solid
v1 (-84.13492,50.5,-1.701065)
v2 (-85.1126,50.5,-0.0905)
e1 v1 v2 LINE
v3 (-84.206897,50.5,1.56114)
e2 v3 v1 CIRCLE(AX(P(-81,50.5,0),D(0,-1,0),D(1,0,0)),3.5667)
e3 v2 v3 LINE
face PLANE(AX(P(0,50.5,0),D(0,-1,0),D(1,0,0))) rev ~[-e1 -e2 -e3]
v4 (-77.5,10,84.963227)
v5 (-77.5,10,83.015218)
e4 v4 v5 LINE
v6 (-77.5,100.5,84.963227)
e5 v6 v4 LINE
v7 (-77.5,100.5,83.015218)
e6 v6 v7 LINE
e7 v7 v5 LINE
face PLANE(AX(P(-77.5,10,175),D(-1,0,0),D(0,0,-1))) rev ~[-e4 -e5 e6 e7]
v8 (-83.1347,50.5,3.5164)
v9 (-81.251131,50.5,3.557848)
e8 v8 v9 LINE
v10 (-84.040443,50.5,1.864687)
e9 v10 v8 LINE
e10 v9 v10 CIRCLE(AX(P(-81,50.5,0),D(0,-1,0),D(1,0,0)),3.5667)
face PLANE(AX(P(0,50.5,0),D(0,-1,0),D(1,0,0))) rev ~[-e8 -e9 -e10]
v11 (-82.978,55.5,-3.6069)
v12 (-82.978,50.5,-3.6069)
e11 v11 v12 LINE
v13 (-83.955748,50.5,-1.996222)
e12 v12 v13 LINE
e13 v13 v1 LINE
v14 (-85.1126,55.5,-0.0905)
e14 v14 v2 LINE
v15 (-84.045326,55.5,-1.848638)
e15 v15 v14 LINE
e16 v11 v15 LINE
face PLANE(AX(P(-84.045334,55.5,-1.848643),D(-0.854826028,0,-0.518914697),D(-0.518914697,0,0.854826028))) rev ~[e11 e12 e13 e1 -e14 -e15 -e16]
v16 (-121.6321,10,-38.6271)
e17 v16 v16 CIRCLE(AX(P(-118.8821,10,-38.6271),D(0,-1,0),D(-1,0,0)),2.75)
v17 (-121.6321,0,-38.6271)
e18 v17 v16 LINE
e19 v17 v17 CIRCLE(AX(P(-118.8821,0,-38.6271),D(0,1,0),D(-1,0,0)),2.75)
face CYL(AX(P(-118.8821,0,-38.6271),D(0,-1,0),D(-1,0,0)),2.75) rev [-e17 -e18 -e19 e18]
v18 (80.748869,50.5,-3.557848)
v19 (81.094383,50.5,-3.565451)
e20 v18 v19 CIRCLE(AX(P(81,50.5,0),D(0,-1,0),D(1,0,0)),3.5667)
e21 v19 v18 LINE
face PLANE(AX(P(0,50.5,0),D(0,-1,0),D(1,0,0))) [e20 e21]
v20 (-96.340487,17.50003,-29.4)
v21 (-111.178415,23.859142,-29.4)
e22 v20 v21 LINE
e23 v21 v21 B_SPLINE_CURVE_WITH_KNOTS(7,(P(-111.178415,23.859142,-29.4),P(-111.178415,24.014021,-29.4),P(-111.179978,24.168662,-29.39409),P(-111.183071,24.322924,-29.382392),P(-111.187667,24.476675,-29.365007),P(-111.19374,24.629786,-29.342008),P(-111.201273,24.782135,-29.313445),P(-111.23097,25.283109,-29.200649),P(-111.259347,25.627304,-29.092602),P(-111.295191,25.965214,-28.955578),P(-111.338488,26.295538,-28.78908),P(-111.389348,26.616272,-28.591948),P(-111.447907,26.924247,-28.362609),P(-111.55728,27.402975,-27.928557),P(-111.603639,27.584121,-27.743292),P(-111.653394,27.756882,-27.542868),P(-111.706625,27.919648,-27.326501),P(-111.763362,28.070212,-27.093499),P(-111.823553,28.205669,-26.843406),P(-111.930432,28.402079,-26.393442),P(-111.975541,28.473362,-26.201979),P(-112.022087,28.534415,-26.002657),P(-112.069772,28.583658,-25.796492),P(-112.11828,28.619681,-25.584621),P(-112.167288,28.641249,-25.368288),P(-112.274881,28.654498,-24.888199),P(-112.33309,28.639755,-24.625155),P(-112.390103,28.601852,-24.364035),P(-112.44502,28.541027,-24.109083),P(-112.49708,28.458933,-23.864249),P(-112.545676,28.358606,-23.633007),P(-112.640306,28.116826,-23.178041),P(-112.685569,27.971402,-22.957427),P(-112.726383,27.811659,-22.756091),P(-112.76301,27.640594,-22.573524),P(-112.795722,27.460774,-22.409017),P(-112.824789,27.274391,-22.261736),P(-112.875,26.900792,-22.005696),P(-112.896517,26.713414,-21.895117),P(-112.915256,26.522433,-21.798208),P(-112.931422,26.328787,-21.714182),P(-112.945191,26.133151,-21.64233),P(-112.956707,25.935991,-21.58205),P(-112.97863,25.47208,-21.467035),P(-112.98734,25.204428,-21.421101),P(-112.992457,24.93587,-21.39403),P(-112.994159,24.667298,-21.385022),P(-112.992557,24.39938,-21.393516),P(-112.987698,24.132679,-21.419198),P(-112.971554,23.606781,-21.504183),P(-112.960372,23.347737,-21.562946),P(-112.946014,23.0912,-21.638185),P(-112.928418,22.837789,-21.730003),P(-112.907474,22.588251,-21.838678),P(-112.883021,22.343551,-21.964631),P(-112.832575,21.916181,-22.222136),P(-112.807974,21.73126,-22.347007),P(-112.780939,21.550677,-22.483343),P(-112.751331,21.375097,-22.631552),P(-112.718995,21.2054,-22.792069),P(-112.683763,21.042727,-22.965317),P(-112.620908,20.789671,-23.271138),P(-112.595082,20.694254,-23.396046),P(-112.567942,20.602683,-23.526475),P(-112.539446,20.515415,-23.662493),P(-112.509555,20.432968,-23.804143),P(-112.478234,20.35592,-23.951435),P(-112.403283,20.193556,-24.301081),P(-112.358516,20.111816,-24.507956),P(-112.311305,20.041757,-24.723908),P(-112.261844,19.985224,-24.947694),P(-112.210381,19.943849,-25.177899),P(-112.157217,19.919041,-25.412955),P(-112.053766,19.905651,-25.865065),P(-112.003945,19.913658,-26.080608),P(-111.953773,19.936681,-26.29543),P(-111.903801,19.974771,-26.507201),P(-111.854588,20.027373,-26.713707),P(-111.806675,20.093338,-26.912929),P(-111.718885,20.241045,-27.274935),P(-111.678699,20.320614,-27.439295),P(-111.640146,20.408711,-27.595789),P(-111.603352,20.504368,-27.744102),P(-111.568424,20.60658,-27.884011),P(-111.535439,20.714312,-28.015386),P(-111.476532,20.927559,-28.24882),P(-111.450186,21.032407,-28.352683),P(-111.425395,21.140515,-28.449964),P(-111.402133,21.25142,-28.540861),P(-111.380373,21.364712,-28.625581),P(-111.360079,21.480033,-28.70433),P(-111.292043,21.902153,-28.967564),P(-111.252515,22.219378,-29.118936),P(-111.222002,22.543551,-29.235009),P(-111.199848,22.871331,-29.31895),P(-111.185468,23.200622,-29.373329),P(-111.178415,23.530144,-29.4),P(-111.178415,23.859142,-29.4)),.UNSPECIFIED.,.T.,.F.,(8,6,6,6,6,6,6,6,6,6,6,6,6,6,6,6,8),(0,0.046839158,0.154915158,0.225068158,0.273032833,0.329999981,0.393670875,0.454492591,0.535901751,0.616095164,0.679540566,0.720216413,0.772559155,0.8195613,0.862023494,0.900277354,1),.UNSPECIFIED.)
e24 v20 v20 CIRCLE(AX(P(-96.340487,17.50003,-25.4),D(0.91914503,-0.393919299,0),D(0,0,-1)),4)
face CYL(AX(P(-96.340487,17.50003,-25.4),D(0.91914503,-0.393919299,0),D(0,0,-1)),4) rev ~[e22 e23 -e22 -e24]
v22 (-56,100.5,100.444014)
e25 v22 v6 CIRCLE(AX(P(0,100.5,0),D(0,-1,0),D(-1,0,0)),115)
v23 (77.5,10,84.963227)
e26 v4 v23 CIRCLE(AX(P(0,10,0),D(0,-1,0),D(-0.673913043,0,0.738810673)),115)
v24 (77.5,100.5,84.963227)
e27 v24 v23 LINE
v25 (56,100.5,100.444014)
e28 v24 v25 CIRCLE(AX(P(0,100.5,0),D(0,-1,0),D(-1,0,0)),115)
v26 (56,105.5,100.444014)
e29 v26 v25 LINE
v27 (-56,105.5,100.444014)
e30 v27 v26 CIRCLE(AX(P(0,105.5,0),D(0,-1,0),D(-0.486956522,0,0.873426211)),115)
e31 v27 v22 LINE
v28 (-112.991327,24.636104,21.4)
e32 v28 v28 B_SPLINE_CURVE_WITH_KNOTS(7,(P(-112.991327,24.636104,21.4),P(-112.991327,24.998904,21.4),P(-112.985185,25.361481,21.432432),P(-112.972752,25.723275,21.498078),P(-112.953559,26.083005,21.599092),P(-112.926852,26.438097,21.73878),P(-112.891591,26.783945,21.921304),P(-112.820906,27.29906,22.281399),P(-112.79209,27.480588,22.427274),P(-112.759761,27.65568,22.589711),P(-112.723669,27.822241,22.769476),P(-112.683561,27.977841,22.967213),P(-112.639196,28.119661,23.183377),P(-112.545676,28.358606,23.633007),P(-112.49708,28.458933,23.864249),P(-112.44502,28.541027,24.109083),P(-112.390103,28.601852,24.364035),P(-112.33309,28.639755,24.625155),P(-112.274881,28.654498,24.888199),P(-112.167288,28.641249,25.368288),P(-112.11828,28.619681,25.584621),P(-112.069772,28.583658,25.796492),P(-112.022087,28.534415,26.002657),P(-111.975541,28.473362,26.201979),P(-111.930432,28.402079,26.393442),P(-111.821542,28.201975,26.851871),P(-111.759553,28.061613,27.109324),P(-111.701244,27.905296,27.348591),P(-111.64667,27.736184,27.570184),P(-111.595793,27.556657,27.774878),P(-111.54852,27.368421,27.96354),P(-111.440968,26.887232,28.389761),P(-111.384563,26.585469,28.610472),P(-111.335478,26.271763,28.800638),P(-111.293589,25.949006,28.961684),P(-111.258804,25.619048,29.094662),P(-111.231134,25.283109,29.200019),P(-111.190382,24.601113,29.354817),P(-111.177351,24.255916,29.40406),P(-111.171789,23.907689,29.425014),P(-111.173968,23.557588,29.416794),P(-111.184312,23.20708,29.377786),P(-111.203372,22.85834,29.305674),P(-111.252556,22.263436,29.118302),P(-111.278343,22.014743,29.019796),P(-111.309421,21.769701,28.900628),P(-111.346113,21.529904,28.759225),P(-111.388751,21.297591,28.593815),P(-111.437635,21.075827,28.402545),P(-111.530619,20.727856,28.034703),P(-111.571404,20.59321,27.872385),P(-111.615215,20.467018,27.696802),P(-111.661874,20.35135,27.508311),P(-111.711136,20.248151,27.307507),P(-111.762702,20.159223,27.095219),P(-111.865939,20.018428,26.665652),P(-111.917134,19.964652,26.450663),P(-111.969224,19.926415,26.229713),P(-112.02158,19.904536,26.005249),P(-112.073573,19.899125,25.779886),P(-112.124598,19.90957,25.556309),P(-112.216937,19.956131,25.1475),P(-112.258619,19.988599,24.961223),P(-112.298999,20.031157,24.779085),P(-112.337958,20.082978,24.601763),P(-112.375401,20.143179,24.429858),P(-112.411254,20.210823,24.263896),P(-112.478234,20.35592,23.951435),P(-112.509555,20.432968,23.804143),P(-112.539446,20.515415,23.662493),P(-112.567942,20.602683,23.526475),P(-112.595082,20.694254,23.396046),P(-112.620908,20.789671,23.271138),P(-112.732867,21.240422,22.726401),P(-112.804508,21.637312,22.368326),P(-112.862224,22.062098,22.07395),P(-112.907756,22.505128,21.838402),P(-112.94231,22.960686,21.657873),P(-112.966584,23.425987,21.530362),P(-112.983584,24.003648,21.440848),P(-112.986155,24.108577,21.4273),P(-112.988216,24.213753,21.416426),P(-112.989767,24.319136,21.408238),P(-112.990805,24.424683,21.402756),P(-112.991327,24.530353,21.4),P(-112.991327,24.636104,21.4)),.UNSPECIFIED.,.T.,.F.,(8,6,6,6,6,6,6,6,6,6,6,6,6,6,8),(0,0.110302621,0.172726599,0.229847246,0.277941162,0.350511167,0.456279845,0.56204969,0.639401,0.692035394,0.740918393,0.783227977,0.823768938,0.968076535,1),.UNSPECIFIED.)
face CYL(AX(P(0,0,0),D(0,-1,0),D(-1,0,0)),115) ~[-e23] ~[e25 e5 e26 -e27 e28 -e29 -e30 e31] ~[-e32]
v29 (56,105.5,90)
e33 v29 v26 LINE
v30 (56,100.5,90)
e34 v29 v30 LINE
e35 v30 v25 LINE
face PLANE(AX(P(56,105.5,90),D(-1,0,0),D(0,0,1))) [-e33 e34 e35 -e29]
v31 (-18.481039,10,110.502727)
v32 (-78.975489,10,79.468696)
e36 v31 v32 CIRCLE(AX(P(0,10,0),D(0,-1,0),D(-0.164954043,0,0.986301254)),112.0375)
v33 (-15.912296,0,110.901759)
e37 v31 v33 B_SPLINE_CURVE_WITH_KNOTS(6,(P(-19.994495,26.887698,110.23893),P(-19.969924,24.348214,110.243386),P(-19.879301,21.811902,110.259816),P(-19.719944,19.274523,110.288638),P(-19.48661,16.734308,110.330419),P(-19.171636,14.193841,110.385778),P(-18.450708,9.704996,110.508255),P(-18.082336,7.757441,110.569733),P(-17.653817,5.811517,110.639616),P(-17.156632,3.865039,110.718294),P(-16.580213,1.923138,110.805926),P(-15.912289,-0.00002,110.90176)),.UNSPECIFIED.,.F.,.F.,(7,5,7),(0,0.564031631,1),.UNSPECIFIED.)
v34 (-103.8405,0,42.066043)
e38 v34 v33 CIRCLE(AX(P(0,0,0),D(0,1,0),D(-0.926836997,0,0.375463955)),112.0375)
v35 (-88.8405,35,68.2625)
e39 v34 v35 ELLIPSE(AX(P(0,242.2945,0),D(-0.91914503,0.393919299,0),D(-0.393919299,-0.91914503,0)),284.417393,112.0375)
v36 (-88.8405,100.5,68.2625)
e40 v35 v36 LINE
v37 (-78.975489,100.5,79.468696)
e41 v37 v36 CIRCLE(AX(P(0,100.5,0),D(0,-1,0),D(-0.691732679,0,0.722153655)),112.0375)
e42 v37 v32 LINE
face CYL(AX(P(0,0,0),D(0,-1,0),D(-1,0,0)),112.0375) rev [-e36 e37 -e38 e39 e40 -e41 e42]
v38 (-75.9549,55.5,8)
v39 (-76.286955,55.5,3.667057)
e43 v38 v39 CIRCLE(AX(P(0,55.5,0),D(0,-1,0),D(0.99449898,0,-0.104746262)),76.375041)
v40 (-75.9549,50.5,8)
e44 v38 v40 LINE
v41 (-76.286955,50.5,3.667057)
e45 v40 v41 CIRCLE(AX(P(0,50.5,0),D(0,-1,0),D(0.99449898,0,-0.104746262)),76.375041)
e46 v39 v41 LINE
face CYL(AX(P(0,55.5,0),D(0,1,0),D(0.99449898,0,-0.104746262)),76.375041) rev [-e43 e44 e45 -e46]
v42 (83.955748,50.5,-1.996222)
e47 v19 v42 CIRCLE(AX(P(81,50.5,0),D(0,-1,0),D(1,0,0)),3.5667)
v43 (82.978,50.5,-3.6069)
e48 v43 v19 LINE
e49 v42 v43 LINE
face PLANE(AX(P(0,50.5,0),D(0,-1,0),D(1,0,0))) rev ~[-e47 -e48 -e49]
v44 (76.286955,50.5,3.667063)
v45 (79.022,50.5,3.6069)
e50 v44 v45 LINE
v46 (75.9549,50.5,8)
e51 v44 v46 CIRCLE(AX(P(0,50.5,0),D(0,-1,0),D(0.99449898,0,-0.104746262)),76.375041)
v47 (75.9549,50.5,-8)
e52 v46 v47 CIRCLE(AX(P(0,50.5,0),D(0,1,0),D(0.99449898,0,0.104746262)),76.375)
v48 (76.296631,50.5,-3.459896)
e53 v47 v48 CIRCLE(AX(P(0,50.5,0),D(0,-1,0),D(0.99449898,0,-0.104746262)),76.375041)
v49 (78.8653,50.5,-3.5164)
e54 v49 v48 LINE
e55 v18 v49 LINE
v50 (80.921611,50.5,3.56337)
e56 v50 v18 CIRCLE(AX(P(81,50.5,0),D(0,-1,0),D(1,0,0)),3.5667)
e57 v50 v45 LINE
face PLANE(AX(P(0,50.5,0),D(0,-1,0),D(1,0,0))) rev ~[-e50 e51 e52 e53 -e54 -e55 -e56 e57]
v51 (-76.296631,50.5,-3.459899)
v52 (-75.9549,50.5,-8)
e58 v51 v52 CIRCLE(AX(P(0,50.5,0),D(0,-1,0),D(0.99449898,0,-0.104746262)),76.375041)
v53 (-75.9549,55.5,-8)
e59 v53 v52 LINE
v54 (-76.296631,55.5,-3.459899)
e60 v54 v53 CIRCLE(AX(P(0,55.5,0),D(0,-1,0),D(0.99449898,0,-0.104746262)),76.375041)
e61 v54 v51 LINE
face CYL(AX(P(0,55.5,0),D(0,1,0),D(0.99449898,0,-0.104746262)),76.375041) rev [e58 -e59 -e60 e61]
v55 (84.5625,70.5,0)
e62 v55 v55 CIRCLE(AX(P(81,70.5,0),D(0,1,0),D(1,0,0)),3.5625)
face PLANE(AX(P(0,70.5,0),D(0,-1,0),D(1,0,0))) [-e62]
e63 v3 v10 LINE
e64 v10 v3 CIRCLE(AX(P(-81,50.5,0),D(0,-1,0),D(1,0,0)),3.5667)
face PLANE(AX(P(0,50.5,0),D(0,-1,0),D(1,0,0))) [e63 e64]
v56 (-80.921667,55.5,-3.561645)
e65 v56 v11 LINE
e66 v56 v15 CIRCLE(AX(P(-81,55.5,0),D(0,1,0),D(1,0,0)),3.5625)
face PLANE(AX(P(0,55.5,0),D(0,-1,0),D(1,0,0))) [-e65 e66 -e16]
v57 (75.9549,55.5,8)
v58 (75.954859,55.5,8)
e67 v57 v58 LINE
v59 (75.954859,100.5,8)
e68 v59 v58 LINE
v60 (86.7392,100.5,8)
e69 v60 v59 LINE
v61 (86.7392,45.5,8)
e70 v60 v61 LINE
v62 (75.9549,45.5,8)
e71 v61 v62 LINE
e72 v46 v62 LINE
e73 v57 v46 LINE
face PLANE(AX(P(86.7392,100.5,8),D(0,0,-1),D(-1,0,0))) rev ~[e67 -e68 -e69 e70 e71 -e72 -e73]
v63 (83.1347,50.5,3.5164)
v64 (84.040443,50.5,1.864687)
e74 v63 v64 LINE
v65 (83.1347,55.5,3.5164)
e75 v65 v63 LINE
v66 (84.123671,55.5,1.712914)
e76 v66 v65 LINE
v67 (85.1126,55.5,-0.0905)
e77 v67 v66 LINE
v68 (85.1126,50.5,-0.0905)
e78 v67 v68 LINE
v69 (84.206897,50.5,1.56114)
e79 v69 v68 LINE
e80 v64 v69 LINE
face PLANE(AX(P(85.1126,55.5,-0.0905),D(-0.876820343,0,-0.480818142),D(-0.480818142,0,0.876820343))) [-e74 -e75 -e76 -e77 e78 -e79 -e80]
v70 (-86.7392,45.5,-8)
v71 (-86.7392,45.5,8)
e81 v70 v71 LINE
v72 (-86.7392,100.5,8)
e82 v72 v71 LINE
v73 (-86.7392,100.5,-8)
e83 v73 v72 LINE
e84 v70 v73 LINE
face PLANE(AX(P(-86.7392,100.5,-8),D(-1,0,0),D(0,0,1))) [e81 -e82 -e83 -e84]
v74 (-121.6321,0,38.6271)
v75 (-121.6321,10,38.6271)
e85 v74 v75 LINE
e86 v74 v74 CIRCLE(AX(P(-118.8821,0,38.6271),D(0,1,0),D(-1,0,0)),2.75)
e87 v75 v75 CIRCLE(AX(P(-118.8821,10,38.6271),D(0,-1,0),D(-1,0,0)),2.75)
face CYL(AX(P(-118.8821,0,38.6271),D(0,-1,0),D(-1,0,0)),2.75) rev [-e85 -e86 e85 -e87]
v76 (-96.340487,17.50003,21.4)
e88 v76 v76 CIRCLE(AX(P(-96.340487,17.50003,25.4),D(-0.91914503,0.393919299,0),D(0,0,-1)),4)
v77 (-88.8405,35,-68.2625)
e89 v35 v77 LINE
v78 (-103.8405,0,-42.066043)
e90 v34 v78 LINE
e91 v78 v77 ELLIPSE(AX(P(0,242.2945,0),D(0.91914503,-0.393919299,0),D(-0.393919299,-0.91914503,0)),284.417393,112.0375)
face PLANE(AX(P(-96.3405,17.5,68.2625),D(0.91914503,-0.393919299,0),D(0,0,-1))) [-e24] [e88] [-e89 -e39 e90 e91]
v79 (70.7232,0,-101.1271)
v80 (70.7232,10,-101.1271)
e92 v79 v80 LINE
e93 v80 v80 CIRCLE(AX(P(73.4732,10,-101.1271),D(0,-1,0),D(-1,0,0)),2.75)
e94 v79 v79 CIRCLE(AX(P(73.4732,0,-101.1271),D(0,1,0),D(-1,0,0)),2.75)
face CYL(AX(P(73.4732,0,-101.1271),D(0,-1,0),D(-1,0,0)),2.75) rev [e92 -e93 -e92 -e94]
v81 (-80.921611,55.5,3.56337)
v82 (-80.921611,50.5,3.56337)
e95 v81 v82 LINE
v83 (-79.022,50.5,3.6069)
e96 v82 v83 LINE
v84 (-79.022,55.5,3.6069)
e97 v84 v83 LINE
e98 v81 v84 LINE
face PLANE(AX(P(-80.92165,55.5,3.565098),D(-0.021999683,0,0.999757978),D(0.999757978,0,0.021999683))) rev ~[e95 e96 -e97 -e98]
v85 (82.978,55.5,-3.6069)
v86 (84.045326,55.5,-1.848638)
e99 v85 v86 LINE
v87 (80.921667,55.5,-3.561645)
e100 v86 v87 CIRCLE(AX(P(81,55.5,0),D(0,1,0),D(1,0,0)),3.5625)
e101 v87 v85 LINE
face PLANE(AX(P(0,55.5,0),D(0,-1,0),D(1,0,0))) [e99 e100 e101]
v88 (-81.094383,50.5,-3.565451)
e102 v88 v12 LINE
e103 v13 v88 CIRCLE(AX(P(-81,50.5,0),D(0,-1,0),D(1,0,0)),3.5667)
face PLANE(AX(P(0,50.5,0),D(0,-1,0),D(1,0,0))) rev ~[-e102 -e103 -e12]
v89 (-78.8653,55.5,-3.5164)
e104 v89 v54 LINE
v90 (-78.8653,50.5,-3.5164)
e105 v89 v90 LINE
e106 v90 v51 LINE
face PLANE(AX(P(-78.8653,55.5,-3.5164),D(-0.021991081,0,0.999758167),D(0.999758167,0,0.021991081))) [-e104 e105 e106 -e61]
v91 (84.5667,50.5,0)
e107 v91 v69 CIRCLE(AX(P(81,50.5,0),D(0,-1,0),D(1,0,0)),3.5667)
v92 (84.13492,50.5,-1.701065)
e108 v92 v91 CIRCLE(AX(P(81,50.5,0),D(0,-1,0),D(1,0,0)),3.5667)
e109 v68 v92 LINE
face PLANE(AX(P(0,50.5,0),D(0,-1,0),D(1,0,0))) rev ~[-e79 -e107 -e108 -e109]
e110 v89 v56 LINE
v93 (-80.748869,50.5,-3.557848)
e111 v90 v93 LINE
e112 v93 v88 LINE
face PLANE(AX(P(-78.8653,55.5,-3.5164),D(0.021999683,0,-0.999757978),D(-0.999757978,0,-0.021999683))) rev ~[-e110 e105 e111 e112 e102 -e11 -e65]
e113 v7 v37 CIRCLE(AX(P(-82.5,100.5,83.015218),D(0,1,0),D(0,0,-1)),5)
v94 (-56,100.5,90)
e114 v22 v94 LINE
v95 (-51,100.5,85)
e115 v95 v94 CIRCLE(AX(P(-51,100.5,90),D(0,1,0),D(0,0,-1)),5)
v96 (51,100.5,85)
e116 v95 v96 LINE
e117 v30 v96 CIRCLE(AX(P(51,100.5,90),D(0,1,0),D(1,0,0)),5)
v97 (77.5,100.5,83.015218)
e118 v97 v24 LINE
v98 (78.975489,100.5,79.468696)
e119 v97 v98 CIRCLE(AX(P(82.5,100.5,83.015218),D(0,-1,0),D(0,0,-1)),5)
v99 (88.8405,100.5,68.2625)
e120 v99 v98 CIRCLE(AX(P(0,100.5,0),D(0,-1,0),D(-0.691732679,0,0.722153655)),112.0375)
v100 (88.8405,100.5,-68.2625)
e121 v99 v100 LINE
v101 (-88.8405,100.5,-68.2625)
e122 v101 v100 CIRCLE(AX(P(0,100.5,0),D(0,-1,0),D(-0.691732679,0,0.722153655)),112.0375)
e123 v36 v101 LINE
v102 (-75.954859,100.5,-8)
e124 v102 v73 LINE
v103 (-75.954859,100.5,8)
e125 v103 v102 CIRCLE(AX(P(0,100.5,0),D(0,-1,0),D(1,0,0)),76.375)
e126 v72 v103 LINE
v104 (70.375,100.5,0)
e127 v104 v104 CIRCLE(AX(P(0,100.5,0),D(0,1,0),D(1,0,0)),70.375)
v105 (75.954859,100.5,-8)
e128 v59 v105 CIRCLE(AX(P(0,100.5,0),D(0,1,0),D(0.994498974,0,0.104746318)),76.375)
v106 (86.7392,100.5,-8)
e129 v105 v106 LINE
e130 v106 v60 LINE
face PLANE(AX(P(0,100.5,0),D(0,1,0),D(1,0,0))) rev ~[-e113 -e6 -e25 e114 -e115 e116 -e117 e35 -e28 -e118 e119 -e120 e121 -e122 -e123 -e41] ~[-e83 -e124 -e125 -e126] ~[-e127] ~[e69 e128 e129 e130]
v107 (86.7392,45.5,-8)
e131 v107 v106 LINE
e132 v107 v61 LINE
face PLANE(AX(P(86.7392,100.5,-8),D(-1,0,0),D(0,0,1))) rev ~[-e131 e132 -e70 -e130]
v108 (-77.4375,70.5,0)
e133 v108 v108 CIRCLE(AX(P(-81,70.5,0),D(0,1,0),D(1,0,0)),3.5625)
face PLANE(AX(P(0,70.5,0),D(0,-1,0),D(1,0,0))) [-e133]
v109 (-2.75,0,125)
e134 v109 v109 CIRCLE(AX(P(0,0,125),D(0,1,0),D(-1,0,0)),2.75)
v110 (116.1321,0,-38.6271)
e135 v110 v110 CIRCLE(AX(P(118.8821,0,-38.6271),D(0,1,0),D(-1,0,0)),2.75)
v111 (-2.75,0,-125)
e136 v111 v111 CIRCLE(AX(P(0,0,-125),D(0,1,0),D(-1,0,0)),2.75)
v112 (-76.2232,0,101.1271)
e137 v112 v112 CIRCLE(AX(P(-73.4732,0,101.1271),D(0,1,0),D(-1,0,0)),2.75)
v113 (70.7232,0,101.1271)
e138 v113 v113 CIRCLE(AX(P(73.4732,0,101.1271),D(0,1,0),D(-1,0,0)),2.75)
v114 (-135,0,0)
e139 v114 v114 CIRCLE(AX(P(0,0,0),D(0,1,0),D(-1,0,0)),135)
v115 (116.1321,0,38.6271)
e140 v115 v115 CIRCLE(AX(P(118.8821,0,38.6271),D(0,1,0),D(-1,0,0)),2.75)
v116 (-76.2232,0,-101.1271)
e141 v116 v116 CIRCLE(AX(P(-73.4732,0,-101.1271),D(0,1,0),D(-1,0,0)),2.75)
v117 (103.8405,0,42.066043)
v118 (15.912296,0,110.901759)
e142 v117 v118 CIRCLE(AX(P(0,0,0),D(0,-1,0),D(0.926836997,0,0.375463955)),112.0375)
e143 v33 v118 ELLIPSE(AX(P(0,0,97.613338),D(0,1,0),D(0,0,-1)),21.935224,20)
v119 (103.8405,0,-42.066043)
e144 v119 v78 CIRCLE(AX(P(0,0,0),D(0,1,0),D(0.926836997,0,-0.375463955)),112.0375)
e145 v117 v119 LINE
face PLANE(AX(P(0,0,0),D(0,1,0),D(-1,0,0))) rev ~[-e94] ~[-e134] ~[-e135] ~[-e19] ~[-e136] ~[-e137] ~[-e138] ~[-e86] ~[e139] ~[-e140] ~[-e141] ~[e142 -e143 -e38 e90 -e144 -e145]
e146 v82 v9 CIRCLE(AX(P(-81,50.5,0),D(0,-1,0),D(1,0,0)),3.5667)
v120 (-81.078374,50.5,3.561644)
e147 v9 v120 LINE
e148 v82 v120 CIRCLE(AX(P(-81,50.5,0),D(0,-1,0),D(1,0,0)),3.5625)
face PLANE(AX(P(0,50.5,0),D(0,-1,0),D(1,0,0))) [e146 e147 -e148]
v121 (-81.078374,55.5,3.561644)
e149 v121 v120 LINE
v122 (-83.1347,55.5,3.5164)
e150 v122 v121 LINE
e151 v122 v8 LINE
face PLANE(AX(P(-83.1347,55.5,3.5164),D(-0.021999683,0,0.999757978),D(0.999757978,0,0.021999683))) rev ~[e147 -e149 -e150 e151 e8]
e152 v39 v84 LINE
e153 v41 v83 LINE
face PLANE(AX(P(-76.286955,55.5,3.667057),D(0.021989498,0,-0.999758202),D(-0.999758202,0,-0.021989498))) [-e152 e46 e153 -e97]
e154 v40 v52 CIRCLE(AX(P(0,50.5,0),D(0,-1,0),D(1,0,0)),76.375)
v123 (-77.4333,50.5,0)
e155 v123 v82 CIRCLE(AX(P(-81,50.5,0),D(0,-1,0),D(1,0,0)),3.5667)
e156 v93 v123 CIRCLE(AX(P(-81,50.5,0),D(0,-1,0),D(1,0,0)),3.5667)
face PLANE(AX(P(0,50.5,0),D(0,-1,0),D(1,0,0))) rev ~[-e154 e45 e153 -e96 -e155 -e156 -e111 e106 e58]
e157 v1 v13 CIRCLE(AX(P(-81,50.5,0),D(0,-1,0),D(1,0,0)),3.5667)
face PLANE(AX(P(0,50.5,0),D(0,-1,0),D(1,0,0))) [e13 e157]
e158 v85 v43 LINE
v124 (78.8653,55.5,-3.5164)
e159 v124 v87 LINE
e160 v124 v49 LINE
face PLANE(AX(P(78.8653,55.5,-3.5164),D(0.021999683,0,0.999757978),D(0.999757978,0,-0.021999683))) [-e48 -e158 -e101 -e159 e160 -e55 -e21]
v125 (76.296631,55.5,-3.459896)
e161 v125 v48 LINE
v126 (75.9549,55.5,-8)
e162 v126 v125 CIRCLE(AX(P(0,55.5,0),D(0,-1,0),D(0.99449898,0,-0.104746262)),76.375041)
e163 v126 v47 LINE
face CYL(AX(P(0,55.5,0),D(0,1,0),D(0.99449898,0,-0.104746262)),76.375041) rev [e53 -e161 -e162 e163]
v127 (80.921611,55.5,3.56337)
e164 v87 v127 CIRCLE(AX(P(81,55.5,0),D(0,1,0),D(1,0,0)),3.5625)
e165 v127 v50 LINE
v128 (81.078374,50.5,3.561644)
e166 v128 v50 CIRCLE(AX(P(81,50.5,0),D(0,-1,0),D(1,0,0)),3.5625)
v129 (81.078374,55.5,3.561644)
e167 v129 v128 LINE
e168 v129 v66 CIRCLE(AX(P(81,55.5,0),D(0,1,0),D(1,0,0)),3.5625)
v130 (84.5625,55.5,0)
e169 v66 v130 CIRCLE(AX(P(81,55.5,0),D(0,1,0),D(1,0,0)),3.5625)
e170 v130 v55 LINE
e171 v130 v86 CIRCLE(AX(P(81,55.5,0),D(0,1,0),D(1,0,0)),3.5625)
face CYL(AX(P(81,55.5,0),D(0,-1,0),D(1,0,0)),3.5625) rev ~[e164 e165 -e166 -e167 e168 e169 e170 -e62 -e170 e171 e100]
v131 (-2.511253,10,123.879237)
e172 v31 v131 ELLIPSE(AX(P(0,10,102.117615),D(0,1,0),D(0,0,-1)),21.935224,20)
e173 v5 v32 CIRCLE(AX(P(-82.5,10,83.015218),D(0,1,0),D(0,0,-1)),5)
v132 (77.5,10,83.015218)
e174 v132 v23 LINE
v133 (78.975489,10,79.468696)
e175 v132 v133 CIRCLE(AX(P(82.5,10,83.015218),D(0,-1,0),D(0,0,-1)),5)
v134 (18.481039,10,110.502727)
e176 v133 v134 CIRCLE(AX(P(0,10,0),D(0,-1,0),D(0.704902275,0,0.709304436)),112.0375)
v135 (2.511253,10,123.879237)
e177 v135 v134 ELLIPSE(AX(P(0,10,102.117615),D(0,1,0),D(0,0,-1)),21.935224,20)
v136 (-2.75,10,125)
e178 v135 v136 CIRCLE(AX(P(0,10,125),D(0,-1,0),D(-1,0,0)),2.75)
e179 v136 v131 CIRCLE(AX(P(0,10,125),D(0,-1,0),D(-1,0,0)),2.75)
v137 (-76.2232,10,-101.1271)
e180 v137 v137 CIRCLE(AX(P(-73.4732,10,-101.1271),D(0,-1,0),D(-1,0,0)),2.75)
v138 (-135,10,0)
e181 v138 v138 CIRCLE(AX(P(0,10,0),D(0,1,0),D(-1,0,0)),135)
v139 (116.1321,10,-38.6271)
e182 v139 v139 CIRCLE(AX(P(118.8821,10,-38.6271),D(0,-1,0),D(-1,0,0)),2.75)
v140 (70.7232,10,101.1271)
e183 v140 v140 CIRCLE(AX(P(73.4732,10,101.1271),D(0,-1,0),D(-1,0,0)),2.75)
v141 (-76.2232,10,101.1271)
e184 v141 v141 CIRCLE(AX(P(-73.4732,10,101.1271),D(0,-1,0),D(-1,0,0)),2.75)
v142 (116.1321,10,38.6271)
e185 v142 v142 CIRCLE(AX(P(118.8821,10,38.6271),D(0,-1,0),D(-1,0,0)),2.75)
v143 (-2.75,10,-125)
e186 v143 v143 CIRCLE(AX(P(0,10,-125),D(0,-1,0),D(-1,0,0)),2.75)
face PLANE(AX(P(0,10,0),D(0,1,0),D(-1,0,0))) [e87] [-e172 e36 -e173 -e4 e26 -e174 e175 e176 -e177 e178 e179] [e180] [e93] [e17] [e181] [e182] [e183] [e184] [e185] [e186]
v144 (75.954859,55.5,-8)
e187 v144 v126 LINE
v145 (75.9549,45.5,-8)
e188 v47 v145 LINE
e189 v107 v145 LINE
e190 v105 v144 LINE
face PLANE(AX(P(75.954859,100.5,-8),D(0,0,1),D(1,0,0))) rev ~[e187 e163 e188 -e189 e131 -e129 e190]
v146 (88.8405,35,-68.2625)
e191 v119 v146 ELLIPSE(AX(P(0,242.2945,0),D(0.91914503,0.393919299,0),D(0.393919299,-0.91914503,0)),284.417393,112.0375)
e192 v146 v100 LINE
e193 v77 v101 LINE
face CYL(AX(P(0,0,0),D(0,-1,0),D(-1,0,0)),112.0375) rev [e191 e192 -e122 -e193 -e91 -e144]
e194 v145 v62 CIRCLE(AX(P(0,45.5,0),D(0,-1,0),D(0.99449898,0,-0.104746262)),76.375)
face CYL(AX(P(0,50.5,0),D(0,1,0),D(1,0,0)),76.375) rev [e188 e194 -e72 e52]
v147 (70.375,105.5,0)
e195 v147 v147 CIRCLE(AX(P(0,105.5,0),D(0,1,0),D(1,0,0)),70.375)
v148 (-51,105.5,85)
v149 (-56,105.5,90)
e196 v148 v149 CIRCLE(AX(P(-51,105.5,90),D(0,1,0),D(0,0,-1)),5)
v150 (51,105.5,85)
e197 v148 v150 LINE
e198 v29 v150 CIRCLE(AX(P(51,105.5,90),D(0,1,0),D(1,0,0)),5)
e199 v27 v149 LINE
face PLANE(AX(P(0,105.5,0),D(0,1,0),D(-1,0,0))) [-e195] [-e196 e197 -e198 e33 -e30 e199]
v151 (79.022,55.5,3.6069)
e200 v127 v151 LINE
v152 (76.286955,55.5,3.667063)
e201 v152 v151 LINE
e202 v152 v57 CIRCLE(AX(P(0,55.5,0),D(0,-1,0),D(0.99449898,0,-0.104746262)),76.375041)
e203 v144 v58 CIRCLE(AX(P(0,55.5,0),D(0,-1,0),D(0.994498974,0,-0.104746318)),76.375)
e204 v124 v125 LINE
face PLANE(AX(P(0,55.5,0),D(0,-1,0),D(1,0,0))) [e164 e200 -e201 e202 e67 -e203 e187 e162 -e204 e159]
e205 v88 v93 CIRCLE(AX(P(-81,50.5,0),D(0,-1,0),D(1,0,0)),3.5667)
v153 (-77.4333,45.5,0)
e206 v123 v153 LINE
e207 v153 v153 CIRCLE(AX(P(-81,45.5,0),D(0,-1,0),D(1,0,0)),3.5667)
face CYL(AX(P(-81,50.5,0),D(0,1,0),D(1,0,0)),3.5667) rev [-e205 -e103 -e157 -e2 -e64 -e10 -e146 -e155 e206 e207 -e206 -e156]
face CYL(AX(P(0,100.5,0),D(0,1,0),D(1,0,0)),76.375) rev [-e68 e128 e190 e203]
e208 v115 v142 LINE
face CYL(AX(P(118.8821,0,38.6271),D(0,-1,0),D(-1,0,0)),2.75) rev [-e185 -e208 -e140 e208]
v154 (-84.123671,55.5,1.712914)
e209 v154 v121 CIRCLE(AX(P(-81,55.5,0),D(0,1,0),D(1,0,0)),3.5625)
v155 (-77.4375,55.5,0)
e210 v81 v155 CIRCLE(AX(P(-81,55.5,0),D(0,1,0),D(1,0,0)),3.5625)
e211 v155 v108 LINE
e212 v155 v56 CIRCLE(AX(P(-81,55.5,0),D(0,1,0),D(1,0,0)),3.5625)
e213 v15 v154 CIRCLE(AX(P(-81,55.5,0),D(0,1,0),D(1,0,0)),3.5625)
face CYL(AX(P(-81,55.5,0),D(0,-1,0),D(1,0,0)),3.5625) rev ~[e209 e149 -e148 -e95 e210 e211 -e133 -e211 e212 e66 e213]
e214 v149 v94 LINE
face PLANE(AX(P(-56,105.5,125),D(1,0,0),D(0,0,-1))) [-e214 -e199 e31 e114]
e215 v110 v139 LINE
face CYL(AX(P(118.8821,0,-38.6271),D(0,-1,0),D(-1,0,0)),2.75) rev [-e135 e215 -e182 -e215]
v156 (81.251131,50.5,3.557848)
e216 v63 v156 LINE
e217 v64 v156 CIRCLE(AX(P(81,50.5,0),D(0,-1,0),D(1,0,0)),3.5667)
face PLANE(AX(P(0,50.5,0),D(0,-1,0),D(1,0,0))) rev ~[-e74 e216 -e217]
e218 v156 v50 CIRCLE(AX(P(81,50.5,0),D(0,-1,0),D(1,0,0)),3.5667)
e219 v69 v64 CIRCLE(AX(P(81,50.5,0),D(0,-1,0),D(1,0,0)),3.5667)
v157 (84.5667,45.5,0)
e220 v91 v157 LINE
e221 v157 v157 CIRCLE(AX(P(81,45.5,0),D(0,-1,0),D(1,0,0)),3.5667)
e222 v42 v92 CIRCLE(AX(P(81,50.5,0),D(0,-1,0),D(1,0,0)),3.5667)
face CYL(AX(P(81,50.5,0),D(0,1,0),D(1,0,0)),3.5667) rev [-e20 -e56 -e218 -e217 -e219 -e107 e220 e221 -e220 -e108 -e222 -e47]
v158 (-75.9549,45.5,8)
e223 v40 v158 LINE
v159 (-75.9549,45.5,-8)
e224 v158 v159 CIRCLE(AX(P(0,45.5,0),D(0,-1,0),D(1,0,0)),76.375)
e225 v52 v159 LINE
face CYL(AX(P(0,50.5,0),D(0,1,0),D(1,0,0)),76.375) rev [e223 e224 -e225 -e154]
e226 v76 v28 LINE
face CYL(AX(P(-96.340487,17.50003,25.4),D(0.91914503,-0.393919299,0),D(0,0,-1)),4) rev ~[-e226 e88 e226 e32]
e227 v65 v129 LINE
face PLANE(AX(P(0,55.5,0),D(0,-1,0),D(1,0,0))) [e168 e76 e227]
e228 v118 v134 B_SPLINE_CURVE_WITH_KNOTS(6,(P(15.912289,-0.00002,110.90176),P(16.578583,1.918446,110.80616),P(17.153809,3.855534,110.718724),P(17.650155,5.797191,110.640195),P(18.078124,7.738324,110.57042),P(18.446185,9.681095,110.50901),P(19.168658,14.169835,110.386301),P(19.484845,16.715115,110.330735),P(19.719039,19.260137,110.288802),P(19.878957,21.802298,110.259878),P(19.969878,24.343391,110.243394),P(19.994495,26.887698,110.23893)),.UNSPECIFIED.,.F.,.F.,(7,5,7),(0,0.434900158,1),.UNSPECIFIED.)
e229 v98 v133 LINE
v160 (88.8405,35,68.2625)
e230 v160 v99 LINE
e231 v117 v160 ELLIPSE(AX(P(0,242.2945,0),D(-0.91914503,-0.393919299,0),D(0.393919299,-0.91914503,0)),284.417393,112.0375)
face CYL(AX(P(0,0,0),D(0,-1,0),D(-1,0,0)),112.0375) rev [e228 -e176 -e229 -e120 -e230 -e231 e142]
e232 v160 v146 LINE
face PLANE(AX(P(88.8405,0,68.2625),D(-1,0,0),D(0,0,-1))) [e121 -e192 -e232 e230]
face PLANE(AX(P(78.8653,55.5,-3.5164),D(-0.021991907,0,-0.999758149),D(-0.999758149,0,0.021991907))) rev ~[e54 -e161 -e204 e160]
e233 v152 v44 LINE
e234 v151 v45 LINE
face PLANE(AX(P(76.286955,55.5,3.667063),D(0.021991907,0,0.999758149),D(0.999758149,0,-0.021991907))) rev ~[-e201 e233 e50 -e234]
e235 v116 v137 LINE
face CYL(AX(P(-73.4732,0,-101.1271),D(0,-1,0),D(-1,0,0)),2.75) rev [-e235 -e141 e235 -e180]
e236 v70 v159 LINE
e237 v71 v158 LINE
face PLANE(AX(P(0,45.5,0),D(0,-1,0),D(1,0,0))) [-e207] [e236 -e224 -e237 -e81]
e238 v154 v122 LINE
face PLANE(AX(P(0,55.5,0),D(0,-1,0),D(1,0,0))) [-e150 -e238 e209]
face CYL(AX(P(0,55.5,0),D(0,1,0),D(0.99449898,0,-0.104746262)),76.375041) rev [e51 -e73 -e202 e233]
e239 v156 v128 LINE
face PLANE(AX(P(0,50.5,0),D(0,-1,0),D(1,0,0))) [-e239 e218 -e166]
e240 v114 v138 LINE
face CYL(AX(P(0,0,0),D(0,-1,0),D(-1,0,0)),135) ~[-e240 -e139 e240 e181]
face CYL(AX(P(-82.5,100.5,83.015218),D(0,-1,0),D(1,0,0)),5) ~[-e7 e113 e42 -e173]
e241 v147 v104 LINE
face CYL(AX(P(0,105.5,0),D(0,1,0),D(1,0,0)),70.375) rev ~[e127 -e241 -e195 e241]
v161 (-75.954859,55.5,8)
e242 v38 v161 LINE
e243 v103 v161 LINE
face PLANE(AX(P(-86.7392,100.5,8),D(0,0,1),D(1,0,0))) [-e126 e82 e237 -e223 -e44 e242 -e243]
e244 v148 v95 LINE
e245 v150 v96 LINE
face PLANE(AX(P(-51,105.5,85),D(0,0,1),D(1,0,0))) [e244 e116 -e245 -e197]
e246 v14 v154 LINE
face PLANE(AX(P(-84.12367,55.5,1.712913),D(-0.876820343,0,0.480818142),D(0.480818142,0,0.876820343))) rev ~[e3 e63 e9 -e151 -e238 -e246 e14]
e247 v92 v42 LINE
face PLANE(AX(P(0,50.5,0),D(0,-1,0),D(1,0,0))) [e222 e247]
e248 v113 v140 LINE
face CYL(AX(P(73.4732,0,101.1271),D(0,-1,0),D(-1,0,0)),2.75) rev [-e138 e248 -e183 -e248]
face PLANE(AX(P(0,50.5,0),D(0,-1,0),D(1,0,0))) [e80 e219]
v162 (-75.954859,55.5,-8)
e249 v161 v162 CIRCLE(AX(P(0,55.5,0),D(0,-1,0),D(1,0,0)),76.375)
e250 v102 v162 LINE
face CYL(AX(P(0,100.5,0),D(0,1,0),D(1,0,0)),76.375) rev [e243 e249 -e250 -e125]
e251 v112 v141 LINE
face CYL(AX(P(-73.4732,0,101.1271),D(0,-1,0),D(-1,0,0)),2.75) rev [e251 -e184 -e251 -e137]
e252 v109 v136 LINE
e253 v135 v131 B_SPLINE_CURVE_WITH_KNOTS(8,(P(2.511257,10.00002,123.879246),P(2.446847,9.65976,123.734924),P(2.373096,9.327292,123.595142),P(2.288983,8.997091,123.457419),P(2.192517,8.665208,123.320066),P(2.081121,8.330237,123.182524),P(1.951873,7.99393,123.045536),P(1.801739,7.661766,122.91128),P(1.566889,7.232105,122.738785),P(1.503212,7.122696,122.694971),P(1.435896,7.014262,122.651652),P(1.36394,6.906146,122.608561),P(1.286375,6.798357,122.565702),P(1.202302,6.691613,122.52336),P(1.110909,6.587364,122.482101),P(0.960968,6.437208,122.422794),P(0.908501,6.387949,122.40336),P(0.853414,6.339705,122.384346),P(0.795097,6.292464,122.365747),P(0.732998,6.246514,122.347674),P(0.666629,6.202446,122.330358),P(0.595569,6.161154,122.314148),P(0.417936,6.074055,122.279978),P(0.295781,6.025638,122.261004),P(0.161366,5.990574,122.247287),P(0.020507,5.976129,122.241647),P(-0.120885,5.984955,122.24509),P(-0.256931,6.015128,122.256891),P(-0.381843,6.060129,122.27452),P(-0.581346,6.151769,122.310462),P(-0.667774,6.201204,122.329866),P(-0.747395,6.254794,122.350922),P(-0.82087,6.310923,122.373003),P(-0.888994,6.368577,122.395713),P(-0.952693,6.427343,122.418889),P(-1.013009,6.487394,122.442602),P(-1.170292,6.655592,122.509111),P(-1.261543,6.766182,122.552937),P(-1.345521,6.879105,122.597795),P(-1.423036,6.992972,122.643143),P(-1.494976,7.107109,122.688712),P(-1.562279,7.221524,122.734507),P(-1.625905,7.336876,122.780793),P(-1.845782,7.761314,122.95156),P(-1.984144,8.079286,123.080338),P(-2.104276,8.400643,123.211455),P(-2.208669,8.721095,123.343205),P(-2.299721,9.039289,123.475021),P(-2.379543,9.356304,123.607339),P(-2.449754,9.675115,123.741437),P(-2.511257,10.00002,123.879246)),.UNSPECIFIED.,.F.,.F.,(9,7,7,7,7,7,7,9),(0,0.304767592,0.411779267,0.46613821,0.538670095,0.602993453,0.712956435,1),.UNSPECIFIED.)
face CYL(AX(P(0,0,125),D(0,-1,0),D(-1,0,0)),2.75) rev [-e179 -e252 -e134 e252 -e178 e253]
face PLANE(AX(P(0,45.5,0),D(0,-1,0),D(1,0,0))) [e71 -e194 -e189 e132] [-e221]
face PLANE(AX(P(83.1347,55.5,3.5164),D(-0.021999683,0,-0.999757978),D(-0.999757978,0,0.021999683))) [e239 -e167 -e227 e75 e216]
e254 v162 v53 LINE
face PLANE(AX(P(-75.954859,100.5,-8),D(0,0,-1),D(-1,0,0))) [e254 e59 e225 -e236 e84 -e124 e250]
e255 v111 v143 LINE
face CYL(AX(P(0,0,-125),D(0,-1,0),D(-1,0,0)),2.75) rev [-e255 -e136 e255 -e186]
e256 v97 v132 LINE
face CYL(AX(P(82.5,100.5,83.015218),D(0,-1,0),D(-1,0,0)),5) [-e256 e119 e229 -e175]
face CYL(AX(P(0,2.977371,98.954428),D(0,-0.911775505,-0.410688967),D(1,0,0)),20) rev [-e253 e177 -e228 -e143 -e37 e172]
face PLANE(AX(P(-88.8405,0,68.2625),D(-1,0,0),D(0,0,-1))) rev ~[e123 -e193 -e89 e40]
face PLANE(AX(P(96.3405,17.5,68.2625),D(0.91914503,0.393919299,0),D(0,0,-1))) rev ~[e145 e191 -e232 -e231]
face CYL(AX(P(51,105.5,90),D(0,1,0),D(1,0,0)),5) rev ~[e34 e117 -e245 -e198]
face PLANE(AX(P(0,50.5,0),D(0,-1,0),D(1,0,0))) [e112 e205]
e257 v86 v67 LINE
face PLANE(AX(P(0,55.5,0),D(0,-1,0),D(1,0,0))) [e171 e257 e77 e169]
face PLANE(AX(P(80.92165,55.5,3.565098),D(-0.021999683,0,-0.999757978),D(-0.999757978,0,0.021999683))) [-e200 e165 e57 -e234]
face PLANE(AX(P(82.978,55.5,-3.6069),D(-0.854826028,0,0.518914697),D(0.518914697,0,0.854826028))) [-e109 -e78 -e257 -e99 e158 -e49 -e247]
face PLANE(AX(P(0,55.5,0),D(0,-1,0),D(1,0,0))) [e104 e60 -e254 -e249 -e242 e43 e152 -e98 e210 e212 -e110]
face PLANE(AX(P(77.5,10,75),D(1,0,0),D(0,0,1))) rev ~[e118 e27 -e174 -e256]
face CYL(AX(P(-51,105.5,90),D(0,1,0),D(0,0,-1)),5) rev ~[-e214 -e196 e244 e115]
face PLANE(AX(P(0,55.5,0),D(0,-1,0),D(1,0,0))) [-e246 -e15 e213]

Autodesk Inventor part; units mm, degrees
sketch "Sketch1" plane through (0, 0, 0) normal (0, 1, 0) x (-1, 0, 0)
  circle A0 centre (0, 0) radius 135
  circle A1 centre (0, 0) radius 115
  circle A2 centre (0, 0) radius 112.0375
  circle A3 centre (0, 0) radius 9.5
  circle A4 centre (0, 0) radius 125
  circle A5 centre (0, -125) radius 2.75
  circle A6 centre (73.4732, -101.1271) radius 2.75
  circle A7 centre (118.8821, -38.6271) radius 2.75
  circle A8 centre (118.8821, 38.6271) radius 2.75
  circle A9 centre (73.4732, 101.1271) radius 2.75
  circle A10 centre (0, 125) radius 2.75
  circle A11 centre (-73.4732, 101.1271) radius 2.75
  circle A12 centre (-118.8821, 38.6271) radius 2.75
  circle A13 centre (-118.8821, -38.6271) radius 2.75
  circle A14 centre (-73.4732, -101.1271) radius 2.75
  dimension "d264" = 250
  dimension "Absolute_Diameter" = 270
  dimension "Diameter_No_Outer_Lip" = 230
  dimension "Inner_Cylinder_Diameter" = 224.075
  dimension "Lip_Diameter" = 19
  dimension "d265" = 5.5
  dimension "d268" = 360
extrude "Extrusion1" add sketch "Sketch1" along normal blind 10 contours A0 | A4 A7 A6 A5 A14 A13 A12 A11 A10 A9 A8
extrude "Extrusion2" add sketch "Sketch1" along normal blind 105.5 contours A1
sketch "Sketch2" plane through (0, 105.5, 0) normal (0, 1, 0) x (1, 0, 0)
  circle A0 centre (0, 0) radius 115
  circle A1 centre (0, 0) radius 70.375
  dimension "Lip_Diameter_Out" = 230
  dimension "Inner_Lip_Diameter" = 140.75
extrude "Extrusion7" add sketch "Sketch2" against normal blind 5
sketch "Sketch28" plane through (0, 10, 0) normal (0, 1, 0) x (1, 0, 0)
  line L0 (-77.5, -75) -> (77.5, -75)
  line L1 (77.5, -75) -> (77.5, -175)
  line L2 (77.5, -175) -> (-77.5, -175)
  line L3 (-77.5, -175) -> (-77.5, -75)
  circle A0 centre (0, -125) radius 2.75 projected
  line L4 (-77.5, -75) -> (77.5, -175) construction
  line L5 (77.5, -75) -> (-77.5, -175) construction
  point P0 (0, 0)
  dimension "d271" = 155
  dimension "d272" = 100
extrude "Extrusion34" cut sketch "Sketch28" along normal up to surface (90.5 mm away)
sketch "Sketch30" plane through (0, 10, 0) normal (0, 1, 0) x (1, 0, 0)
  point P0 (0, 0)
ref_plane "Work Plane19" through (16.25, 10, -160.125) normal (0, 0.3947, -0.9188) x (1, 0, 0)
ref_plane "Work Plane21" through (16.25, 10, -160.125) normal (0, 0.9118, 0.4107) x (1, 0, 0)
ref_plane "Work Plane22" through (16.25, 101.1762, -119.0531) normal (0, 0.9118, 0.4107) x (1, 0, 0)
sketch "Sketch31" plane through (16.25, 101.1762, -119.0531) normal (0, 0.9118, 0.4107) x (1, 0, 0)
  circle A0 centre (-16.25, -239.1031) radius 20
  point P0 (-16.25, -150.1031)
  dimension "d286" = 40
  dimension "d289" = 89
extrude "Extrusion36" cut sketch "Sketch31" along normal mid plane 52.8625
fillet "Fillet19" radius 5 2 edges at (-77.5, 55.25, 80.9083) (77.5, 55.25, 80.9083)
sketch "Sketch32" plane through (0, 105.5, 0) normal (0, 1, 0) x (1, 0, 0)
  line L0 (-51, -85) -> (51, -85)
  line L1 (56, -90) -> (56, -125)
  line L2 (56, -125) -> (-56, -125)
  line L3 (-56, -125) -> (-56, -90)
  line L4 (-56, -85) -> (56, -125) construction
  line L5 (56, -85) -> (-56, -125) construction
  arc A0 (-51, -85) -> (-56, -90) centre (-51, -90) ccw
  arc A1 (56, -90) -> (51, -85) centre (51, -90) ccw
  point P0 (0, 0)
  point P1 (0, -105)
  point P2 (0, -85)
  dimension "d291" = 112
  dimension "d292" = 40
  dimension "d293" = 5
  dimension "d294" = 5
  dimension "d295" = 85
extrude "Extrusion37" cut sketch "Sketch32" against normal blind 10
sketch "Sketch33" plane through (0, 100.5, 0) normal (0, -1, 0) x (1, 0, 0)
  circle A0 centre (0, 0) radius 70.375
  line L0 (-86.7392, 8) -> (-75, 8)
  line L1 (-75, 8) -> (-75, -8)
  line L2 (-75, -8) -> (-86.7392, -8)
  line L3 (-86.7392, -8) -> (-86.7392, 8)
  line L4 (-86.7392, 8) -> (-75, -8) construction
  line L5 (-75, 8) -> (-86.7392, -8) construction
  line L6 (0, 0) -> (0, 70.375)
  line L7 (86.7392, 8) -> (75, 8)
  line L8 (75, 8) -> (75, -8)
  line L9 (75, -8) -> (86.7392, -8)
  line L10 (86.7392, -8) -> (86.7392, 8)
  line L11 (86.7392, 8) -> (75, -8) construction
  line L12 (75, 8) -> (86.7392, -8) construction
  circle A1 centre (0, 0) radius 76.375
  point P0 (-80.8696, 0)
  point P1 (80.8696, 0)
  point P2 (-75, 0)
  point P3 (-75.9549, -8)
  point P4 (-75.9549, 8)
  point P5 (75.9549, 8)
  point P6 (75.9549, -8)
  dimension "d313" = 140.75
  dimension "d298" = 16
  dimension "d301" = 75
  dimension "d314" = 6
  dimension "d340" = 11.7392
extrude "Extrusion38" add sketch "Sketch33" along normal blind 45 contours L0 A1 L2 L3 | L7 L10 L9 A1
sketch "Sketch35" plane through (0, 55.5, 0) normal (0, -1, 0) x (1, 0, 0)
  line L0 (0, 0) -> (0, 42.8625)
  arc A0 (80.604, -8) -> (-80.604, -8) centre (0, 0) ccw
  circle A1 centre (-81, 0) radius 3.5625
  circle A2 centre (81, 0) radius 3.5625
  line L1 (-82.978, -3.6069) -> (-85.1126, -0.0905)
  line L2 (-85.1126, -0.0905) -> (-83.1347, 3.5164)
  line L3 (-83.1347, 3.5164) -> (-79.022, 3.6069)
  line L4 (-79.022, 3.6069) -> (-76.8874, 0.0905)
  line L5 (-76.8874, 0.0905) -> (-78.8653, -3.5164)
  line L6 (-78.8653, -3.5164) -> (-82.978, -3.6069)
  line L7 (82.978, -3.6069) -> (85.1126, -0.0905)
  line L8 (85.1126, -0.0905) -> (83.1347, 3.5164)
  line L9 (83.1347, 3.5164) -> (79.022, 3.6069)
  line L10 (79.022, 3.6069) -> (76.8874, 0.0905)
  line L11 (76.8874, 0.0905) -> (78.8653, -3.5164)
  line L12 (78.8653, -3.5164) -> (82.978, -3.6069)
  arc A3 (75.9549, -8) -> (-75.9549, -8) centre (0, 0) ccw
  line L13 (-75.9549, -8) -> (-86.7392, -8)
  line L14 (-86.7392, -8) -> (-86.7392, 8)
  line L15 (86.7392, -8) -> (86.7392, 8)
  line L16 (-86.7392, 8) -> (-75.9549, 8) projected
  line L17 (-86.7392, 8) -> (-75.9549, 8)
  line L18 (86.7392, 8) -> (75.9549, 8)
  line L19 (-79.022, 3.6069) -> (-78.8653, -3.5164)
  line L20 (-78.8653, -3.5164) -> (-14.3502, -2.0973)
  line L21 (-14.3502, -2.0973) -> (-14.5068, 5.0259)
  line L22 (-14.5068, 5.0259) -> (-79.022, 3.6069)
  line L23 (79.022, 3.6069) -> (78.8653, -3.5164)
  line L24 (78.8653, -3.5164) -> (65.0181, -3.2118)
  line L25 (65.0181, -3.2118) -> (65.1748, 3.9115)
  line L26 (65.1748, 3.9115) -> (79.022, 3.6069)
  line L27 (86.7392, -8) -> (75.9549, -8)
  arc A4 (87.1335, -8) -> (-87.1335, -8) centre (0, 0) ccw
  point P0 (-80.9217, -3.5616)
  point P1 (-76.2966, -3.4599)
  point P2 (-76.2869, 3.667)
  point P3 (76.2869, 3.667)
  point P4 (76.2966, -3.4599)
  dimension "d309" = 7.125
  dimension "d308" = 162
extrude "Extrusion40" cut sketch "Sketch35" against normal blind 15 contours A2 L23 A0 | A0 A2 | A2 L23 | A1 L19 A0 | A0 A1 | A1 L19
extrude "Extrusion41" add sketch "Sketch35" along normal blind 5 contours L27 A3 L24 L12 A0 | A0 L12 L7 L8 L9 A2 L18 L15 L27 | L9 L26 A3 L18 A0 | L16 A3 L22 L3 A0 | A0 A1 L3 L2 L1 L6 L13 L14 L16 | L6 L20 A3 L13 A0
sketch "Sketch36" plane through (0, 50.5, 0) normal (0, -1, 0) x (1, 0, 0)
  circle A0 centre (0, 0) radius 76.375
  line L0 (-86.7392, 8) -> (-75.9549, 8) projected
  line L1 (-86.7392, -8) -> (-86.7392, 8) projected
  line L2 (-86.7392, 8) -> (-86.7392, -8)
  line L3 (-86.7392, -8) -> (-75.9549, -8)
  line L4 (-75.9549, 8) -> (-86.7392, 8)
  arc A1 (-80.9217, -3.5616) -> (-81.0783, 3.5616) centre (-81, 0) ccw projected
  circle A2 centre (-81, 0) radius 3.5667
  line L5 (0, 0) -> (0, 76.375)
  line L6 (86.7392, 8) -> (75.9549, 8)
  line L7 (86.7392, -8) -> (86.7392, 8)
  line L8 (86.7392, 8) -> (86.7392, -8)
  line L9 (86.7392, -8) -> (75.9549, -8)
  line L10 (75.9549, 8) -> (86.7392, 8)
  arc A3 (81.0783, 3.5616) -> (80.9217, -3.5616) centre (81, 0) ccw
  circle A4 centre (81, 0) radius 3.5667
extrude "Extrusion42" add sketch "Sketch36" along normal blind 5 contours A0 L6 L7 L9 | L3 L1 L0 A0
sketch "Sketch37" plane through (0, 0, 0) normal (0, -1, 0) x (1, 0, 0)
  arc A0 (-15.9123, 110.9018) -> (15.9123, 110.9018) centre (0, 0) ccw projected
  line L0 (-135.2345, 68.2625) -> (-88.8405, 68.2625)
  line L1 (-88.8405, 68.2625) -> (-88.8405, -68.2625)
  line L2 (-88.8405, -68.2625) -> (-135.2345, -68.2625)
  line L3 (-135.2345, -68.2625) -> (-135.2345, 68.2625)
  line L4 (-135.2345, 68.2625) -> (-88.8405, -68.2625) construction
  line L5 (-88.8405, 68.2625) -> (-135.2345, -68.2625) construction
  circle A1 centre (0, 0) radius 135 projected
  line L6 (0, 135) -> (0, -135)
  line L7 (135.2345, 68.2625) -> (88.8405, 68.2625)
  line L8 (88.8405, 68.2625) -> (88.8405, -68.2625)
  line L9 (88.8405, -68.2625) -> (135.2345, -68.2625)
  line L10 (135.2345, -68.2625) -> (135.2345, 68.2625)
  point P0 (-112.0375, 0)
  dimension "d341" = 46.394
  dimension "d342" = 136.525
extrude "Extrusion43" add sketch "Sketch37" against normal up to surface (100.5 mm away) contours L1 A0 | L8 A0
chamfer "Chamfer14" distance 15 distance2 35 2 edges at (-88.8405, 0, 0) (88.8405, 0, 0) measured on face at (98.0427, 0, 12.4497)
sketch "Sketch38" plane through (-88.8405, 35, 68.2625) normal (0.9191, -0.3939, 0) x (0, 0, -1)
  line L0 (136.525, 0) -> (0, 0) projected
  line L1 (68.2625, 0) -> (68.2625, -38.0789)
  line L2 (26.1964, -38.0789) -> (110.3286, -38.0789) projected
  line L3 (42.8625, 0) -> (42.8625, -38.0789)
  circle A0 centre (42.8625, -19.0394) radius 4
  circle A1 centre (42.8625, -19.0394) radius 2.25
  circle A2 centre (93.6625, -19.0394) radius 4
  circle A3 centre (93.6625, -19.0394) radius 2.25
  point P0 (68.2625, 2.8259)
  dimension "d324" = 25.4
  dimension "d326" = 8
  dimension "d330" = 4.5
  dimension "d333" = 25.4
  dimension "d334" = 7.5
  dimension "d335" = 4.5
extrude "Extrusion44" cut sketch "Sketch38" against normal through all contours A0 L3 A1 | L3 A1 A0 | A1 L3 | L3 A1 | A2 | A3
properties part number "Cylinder Segment  Camera only"
